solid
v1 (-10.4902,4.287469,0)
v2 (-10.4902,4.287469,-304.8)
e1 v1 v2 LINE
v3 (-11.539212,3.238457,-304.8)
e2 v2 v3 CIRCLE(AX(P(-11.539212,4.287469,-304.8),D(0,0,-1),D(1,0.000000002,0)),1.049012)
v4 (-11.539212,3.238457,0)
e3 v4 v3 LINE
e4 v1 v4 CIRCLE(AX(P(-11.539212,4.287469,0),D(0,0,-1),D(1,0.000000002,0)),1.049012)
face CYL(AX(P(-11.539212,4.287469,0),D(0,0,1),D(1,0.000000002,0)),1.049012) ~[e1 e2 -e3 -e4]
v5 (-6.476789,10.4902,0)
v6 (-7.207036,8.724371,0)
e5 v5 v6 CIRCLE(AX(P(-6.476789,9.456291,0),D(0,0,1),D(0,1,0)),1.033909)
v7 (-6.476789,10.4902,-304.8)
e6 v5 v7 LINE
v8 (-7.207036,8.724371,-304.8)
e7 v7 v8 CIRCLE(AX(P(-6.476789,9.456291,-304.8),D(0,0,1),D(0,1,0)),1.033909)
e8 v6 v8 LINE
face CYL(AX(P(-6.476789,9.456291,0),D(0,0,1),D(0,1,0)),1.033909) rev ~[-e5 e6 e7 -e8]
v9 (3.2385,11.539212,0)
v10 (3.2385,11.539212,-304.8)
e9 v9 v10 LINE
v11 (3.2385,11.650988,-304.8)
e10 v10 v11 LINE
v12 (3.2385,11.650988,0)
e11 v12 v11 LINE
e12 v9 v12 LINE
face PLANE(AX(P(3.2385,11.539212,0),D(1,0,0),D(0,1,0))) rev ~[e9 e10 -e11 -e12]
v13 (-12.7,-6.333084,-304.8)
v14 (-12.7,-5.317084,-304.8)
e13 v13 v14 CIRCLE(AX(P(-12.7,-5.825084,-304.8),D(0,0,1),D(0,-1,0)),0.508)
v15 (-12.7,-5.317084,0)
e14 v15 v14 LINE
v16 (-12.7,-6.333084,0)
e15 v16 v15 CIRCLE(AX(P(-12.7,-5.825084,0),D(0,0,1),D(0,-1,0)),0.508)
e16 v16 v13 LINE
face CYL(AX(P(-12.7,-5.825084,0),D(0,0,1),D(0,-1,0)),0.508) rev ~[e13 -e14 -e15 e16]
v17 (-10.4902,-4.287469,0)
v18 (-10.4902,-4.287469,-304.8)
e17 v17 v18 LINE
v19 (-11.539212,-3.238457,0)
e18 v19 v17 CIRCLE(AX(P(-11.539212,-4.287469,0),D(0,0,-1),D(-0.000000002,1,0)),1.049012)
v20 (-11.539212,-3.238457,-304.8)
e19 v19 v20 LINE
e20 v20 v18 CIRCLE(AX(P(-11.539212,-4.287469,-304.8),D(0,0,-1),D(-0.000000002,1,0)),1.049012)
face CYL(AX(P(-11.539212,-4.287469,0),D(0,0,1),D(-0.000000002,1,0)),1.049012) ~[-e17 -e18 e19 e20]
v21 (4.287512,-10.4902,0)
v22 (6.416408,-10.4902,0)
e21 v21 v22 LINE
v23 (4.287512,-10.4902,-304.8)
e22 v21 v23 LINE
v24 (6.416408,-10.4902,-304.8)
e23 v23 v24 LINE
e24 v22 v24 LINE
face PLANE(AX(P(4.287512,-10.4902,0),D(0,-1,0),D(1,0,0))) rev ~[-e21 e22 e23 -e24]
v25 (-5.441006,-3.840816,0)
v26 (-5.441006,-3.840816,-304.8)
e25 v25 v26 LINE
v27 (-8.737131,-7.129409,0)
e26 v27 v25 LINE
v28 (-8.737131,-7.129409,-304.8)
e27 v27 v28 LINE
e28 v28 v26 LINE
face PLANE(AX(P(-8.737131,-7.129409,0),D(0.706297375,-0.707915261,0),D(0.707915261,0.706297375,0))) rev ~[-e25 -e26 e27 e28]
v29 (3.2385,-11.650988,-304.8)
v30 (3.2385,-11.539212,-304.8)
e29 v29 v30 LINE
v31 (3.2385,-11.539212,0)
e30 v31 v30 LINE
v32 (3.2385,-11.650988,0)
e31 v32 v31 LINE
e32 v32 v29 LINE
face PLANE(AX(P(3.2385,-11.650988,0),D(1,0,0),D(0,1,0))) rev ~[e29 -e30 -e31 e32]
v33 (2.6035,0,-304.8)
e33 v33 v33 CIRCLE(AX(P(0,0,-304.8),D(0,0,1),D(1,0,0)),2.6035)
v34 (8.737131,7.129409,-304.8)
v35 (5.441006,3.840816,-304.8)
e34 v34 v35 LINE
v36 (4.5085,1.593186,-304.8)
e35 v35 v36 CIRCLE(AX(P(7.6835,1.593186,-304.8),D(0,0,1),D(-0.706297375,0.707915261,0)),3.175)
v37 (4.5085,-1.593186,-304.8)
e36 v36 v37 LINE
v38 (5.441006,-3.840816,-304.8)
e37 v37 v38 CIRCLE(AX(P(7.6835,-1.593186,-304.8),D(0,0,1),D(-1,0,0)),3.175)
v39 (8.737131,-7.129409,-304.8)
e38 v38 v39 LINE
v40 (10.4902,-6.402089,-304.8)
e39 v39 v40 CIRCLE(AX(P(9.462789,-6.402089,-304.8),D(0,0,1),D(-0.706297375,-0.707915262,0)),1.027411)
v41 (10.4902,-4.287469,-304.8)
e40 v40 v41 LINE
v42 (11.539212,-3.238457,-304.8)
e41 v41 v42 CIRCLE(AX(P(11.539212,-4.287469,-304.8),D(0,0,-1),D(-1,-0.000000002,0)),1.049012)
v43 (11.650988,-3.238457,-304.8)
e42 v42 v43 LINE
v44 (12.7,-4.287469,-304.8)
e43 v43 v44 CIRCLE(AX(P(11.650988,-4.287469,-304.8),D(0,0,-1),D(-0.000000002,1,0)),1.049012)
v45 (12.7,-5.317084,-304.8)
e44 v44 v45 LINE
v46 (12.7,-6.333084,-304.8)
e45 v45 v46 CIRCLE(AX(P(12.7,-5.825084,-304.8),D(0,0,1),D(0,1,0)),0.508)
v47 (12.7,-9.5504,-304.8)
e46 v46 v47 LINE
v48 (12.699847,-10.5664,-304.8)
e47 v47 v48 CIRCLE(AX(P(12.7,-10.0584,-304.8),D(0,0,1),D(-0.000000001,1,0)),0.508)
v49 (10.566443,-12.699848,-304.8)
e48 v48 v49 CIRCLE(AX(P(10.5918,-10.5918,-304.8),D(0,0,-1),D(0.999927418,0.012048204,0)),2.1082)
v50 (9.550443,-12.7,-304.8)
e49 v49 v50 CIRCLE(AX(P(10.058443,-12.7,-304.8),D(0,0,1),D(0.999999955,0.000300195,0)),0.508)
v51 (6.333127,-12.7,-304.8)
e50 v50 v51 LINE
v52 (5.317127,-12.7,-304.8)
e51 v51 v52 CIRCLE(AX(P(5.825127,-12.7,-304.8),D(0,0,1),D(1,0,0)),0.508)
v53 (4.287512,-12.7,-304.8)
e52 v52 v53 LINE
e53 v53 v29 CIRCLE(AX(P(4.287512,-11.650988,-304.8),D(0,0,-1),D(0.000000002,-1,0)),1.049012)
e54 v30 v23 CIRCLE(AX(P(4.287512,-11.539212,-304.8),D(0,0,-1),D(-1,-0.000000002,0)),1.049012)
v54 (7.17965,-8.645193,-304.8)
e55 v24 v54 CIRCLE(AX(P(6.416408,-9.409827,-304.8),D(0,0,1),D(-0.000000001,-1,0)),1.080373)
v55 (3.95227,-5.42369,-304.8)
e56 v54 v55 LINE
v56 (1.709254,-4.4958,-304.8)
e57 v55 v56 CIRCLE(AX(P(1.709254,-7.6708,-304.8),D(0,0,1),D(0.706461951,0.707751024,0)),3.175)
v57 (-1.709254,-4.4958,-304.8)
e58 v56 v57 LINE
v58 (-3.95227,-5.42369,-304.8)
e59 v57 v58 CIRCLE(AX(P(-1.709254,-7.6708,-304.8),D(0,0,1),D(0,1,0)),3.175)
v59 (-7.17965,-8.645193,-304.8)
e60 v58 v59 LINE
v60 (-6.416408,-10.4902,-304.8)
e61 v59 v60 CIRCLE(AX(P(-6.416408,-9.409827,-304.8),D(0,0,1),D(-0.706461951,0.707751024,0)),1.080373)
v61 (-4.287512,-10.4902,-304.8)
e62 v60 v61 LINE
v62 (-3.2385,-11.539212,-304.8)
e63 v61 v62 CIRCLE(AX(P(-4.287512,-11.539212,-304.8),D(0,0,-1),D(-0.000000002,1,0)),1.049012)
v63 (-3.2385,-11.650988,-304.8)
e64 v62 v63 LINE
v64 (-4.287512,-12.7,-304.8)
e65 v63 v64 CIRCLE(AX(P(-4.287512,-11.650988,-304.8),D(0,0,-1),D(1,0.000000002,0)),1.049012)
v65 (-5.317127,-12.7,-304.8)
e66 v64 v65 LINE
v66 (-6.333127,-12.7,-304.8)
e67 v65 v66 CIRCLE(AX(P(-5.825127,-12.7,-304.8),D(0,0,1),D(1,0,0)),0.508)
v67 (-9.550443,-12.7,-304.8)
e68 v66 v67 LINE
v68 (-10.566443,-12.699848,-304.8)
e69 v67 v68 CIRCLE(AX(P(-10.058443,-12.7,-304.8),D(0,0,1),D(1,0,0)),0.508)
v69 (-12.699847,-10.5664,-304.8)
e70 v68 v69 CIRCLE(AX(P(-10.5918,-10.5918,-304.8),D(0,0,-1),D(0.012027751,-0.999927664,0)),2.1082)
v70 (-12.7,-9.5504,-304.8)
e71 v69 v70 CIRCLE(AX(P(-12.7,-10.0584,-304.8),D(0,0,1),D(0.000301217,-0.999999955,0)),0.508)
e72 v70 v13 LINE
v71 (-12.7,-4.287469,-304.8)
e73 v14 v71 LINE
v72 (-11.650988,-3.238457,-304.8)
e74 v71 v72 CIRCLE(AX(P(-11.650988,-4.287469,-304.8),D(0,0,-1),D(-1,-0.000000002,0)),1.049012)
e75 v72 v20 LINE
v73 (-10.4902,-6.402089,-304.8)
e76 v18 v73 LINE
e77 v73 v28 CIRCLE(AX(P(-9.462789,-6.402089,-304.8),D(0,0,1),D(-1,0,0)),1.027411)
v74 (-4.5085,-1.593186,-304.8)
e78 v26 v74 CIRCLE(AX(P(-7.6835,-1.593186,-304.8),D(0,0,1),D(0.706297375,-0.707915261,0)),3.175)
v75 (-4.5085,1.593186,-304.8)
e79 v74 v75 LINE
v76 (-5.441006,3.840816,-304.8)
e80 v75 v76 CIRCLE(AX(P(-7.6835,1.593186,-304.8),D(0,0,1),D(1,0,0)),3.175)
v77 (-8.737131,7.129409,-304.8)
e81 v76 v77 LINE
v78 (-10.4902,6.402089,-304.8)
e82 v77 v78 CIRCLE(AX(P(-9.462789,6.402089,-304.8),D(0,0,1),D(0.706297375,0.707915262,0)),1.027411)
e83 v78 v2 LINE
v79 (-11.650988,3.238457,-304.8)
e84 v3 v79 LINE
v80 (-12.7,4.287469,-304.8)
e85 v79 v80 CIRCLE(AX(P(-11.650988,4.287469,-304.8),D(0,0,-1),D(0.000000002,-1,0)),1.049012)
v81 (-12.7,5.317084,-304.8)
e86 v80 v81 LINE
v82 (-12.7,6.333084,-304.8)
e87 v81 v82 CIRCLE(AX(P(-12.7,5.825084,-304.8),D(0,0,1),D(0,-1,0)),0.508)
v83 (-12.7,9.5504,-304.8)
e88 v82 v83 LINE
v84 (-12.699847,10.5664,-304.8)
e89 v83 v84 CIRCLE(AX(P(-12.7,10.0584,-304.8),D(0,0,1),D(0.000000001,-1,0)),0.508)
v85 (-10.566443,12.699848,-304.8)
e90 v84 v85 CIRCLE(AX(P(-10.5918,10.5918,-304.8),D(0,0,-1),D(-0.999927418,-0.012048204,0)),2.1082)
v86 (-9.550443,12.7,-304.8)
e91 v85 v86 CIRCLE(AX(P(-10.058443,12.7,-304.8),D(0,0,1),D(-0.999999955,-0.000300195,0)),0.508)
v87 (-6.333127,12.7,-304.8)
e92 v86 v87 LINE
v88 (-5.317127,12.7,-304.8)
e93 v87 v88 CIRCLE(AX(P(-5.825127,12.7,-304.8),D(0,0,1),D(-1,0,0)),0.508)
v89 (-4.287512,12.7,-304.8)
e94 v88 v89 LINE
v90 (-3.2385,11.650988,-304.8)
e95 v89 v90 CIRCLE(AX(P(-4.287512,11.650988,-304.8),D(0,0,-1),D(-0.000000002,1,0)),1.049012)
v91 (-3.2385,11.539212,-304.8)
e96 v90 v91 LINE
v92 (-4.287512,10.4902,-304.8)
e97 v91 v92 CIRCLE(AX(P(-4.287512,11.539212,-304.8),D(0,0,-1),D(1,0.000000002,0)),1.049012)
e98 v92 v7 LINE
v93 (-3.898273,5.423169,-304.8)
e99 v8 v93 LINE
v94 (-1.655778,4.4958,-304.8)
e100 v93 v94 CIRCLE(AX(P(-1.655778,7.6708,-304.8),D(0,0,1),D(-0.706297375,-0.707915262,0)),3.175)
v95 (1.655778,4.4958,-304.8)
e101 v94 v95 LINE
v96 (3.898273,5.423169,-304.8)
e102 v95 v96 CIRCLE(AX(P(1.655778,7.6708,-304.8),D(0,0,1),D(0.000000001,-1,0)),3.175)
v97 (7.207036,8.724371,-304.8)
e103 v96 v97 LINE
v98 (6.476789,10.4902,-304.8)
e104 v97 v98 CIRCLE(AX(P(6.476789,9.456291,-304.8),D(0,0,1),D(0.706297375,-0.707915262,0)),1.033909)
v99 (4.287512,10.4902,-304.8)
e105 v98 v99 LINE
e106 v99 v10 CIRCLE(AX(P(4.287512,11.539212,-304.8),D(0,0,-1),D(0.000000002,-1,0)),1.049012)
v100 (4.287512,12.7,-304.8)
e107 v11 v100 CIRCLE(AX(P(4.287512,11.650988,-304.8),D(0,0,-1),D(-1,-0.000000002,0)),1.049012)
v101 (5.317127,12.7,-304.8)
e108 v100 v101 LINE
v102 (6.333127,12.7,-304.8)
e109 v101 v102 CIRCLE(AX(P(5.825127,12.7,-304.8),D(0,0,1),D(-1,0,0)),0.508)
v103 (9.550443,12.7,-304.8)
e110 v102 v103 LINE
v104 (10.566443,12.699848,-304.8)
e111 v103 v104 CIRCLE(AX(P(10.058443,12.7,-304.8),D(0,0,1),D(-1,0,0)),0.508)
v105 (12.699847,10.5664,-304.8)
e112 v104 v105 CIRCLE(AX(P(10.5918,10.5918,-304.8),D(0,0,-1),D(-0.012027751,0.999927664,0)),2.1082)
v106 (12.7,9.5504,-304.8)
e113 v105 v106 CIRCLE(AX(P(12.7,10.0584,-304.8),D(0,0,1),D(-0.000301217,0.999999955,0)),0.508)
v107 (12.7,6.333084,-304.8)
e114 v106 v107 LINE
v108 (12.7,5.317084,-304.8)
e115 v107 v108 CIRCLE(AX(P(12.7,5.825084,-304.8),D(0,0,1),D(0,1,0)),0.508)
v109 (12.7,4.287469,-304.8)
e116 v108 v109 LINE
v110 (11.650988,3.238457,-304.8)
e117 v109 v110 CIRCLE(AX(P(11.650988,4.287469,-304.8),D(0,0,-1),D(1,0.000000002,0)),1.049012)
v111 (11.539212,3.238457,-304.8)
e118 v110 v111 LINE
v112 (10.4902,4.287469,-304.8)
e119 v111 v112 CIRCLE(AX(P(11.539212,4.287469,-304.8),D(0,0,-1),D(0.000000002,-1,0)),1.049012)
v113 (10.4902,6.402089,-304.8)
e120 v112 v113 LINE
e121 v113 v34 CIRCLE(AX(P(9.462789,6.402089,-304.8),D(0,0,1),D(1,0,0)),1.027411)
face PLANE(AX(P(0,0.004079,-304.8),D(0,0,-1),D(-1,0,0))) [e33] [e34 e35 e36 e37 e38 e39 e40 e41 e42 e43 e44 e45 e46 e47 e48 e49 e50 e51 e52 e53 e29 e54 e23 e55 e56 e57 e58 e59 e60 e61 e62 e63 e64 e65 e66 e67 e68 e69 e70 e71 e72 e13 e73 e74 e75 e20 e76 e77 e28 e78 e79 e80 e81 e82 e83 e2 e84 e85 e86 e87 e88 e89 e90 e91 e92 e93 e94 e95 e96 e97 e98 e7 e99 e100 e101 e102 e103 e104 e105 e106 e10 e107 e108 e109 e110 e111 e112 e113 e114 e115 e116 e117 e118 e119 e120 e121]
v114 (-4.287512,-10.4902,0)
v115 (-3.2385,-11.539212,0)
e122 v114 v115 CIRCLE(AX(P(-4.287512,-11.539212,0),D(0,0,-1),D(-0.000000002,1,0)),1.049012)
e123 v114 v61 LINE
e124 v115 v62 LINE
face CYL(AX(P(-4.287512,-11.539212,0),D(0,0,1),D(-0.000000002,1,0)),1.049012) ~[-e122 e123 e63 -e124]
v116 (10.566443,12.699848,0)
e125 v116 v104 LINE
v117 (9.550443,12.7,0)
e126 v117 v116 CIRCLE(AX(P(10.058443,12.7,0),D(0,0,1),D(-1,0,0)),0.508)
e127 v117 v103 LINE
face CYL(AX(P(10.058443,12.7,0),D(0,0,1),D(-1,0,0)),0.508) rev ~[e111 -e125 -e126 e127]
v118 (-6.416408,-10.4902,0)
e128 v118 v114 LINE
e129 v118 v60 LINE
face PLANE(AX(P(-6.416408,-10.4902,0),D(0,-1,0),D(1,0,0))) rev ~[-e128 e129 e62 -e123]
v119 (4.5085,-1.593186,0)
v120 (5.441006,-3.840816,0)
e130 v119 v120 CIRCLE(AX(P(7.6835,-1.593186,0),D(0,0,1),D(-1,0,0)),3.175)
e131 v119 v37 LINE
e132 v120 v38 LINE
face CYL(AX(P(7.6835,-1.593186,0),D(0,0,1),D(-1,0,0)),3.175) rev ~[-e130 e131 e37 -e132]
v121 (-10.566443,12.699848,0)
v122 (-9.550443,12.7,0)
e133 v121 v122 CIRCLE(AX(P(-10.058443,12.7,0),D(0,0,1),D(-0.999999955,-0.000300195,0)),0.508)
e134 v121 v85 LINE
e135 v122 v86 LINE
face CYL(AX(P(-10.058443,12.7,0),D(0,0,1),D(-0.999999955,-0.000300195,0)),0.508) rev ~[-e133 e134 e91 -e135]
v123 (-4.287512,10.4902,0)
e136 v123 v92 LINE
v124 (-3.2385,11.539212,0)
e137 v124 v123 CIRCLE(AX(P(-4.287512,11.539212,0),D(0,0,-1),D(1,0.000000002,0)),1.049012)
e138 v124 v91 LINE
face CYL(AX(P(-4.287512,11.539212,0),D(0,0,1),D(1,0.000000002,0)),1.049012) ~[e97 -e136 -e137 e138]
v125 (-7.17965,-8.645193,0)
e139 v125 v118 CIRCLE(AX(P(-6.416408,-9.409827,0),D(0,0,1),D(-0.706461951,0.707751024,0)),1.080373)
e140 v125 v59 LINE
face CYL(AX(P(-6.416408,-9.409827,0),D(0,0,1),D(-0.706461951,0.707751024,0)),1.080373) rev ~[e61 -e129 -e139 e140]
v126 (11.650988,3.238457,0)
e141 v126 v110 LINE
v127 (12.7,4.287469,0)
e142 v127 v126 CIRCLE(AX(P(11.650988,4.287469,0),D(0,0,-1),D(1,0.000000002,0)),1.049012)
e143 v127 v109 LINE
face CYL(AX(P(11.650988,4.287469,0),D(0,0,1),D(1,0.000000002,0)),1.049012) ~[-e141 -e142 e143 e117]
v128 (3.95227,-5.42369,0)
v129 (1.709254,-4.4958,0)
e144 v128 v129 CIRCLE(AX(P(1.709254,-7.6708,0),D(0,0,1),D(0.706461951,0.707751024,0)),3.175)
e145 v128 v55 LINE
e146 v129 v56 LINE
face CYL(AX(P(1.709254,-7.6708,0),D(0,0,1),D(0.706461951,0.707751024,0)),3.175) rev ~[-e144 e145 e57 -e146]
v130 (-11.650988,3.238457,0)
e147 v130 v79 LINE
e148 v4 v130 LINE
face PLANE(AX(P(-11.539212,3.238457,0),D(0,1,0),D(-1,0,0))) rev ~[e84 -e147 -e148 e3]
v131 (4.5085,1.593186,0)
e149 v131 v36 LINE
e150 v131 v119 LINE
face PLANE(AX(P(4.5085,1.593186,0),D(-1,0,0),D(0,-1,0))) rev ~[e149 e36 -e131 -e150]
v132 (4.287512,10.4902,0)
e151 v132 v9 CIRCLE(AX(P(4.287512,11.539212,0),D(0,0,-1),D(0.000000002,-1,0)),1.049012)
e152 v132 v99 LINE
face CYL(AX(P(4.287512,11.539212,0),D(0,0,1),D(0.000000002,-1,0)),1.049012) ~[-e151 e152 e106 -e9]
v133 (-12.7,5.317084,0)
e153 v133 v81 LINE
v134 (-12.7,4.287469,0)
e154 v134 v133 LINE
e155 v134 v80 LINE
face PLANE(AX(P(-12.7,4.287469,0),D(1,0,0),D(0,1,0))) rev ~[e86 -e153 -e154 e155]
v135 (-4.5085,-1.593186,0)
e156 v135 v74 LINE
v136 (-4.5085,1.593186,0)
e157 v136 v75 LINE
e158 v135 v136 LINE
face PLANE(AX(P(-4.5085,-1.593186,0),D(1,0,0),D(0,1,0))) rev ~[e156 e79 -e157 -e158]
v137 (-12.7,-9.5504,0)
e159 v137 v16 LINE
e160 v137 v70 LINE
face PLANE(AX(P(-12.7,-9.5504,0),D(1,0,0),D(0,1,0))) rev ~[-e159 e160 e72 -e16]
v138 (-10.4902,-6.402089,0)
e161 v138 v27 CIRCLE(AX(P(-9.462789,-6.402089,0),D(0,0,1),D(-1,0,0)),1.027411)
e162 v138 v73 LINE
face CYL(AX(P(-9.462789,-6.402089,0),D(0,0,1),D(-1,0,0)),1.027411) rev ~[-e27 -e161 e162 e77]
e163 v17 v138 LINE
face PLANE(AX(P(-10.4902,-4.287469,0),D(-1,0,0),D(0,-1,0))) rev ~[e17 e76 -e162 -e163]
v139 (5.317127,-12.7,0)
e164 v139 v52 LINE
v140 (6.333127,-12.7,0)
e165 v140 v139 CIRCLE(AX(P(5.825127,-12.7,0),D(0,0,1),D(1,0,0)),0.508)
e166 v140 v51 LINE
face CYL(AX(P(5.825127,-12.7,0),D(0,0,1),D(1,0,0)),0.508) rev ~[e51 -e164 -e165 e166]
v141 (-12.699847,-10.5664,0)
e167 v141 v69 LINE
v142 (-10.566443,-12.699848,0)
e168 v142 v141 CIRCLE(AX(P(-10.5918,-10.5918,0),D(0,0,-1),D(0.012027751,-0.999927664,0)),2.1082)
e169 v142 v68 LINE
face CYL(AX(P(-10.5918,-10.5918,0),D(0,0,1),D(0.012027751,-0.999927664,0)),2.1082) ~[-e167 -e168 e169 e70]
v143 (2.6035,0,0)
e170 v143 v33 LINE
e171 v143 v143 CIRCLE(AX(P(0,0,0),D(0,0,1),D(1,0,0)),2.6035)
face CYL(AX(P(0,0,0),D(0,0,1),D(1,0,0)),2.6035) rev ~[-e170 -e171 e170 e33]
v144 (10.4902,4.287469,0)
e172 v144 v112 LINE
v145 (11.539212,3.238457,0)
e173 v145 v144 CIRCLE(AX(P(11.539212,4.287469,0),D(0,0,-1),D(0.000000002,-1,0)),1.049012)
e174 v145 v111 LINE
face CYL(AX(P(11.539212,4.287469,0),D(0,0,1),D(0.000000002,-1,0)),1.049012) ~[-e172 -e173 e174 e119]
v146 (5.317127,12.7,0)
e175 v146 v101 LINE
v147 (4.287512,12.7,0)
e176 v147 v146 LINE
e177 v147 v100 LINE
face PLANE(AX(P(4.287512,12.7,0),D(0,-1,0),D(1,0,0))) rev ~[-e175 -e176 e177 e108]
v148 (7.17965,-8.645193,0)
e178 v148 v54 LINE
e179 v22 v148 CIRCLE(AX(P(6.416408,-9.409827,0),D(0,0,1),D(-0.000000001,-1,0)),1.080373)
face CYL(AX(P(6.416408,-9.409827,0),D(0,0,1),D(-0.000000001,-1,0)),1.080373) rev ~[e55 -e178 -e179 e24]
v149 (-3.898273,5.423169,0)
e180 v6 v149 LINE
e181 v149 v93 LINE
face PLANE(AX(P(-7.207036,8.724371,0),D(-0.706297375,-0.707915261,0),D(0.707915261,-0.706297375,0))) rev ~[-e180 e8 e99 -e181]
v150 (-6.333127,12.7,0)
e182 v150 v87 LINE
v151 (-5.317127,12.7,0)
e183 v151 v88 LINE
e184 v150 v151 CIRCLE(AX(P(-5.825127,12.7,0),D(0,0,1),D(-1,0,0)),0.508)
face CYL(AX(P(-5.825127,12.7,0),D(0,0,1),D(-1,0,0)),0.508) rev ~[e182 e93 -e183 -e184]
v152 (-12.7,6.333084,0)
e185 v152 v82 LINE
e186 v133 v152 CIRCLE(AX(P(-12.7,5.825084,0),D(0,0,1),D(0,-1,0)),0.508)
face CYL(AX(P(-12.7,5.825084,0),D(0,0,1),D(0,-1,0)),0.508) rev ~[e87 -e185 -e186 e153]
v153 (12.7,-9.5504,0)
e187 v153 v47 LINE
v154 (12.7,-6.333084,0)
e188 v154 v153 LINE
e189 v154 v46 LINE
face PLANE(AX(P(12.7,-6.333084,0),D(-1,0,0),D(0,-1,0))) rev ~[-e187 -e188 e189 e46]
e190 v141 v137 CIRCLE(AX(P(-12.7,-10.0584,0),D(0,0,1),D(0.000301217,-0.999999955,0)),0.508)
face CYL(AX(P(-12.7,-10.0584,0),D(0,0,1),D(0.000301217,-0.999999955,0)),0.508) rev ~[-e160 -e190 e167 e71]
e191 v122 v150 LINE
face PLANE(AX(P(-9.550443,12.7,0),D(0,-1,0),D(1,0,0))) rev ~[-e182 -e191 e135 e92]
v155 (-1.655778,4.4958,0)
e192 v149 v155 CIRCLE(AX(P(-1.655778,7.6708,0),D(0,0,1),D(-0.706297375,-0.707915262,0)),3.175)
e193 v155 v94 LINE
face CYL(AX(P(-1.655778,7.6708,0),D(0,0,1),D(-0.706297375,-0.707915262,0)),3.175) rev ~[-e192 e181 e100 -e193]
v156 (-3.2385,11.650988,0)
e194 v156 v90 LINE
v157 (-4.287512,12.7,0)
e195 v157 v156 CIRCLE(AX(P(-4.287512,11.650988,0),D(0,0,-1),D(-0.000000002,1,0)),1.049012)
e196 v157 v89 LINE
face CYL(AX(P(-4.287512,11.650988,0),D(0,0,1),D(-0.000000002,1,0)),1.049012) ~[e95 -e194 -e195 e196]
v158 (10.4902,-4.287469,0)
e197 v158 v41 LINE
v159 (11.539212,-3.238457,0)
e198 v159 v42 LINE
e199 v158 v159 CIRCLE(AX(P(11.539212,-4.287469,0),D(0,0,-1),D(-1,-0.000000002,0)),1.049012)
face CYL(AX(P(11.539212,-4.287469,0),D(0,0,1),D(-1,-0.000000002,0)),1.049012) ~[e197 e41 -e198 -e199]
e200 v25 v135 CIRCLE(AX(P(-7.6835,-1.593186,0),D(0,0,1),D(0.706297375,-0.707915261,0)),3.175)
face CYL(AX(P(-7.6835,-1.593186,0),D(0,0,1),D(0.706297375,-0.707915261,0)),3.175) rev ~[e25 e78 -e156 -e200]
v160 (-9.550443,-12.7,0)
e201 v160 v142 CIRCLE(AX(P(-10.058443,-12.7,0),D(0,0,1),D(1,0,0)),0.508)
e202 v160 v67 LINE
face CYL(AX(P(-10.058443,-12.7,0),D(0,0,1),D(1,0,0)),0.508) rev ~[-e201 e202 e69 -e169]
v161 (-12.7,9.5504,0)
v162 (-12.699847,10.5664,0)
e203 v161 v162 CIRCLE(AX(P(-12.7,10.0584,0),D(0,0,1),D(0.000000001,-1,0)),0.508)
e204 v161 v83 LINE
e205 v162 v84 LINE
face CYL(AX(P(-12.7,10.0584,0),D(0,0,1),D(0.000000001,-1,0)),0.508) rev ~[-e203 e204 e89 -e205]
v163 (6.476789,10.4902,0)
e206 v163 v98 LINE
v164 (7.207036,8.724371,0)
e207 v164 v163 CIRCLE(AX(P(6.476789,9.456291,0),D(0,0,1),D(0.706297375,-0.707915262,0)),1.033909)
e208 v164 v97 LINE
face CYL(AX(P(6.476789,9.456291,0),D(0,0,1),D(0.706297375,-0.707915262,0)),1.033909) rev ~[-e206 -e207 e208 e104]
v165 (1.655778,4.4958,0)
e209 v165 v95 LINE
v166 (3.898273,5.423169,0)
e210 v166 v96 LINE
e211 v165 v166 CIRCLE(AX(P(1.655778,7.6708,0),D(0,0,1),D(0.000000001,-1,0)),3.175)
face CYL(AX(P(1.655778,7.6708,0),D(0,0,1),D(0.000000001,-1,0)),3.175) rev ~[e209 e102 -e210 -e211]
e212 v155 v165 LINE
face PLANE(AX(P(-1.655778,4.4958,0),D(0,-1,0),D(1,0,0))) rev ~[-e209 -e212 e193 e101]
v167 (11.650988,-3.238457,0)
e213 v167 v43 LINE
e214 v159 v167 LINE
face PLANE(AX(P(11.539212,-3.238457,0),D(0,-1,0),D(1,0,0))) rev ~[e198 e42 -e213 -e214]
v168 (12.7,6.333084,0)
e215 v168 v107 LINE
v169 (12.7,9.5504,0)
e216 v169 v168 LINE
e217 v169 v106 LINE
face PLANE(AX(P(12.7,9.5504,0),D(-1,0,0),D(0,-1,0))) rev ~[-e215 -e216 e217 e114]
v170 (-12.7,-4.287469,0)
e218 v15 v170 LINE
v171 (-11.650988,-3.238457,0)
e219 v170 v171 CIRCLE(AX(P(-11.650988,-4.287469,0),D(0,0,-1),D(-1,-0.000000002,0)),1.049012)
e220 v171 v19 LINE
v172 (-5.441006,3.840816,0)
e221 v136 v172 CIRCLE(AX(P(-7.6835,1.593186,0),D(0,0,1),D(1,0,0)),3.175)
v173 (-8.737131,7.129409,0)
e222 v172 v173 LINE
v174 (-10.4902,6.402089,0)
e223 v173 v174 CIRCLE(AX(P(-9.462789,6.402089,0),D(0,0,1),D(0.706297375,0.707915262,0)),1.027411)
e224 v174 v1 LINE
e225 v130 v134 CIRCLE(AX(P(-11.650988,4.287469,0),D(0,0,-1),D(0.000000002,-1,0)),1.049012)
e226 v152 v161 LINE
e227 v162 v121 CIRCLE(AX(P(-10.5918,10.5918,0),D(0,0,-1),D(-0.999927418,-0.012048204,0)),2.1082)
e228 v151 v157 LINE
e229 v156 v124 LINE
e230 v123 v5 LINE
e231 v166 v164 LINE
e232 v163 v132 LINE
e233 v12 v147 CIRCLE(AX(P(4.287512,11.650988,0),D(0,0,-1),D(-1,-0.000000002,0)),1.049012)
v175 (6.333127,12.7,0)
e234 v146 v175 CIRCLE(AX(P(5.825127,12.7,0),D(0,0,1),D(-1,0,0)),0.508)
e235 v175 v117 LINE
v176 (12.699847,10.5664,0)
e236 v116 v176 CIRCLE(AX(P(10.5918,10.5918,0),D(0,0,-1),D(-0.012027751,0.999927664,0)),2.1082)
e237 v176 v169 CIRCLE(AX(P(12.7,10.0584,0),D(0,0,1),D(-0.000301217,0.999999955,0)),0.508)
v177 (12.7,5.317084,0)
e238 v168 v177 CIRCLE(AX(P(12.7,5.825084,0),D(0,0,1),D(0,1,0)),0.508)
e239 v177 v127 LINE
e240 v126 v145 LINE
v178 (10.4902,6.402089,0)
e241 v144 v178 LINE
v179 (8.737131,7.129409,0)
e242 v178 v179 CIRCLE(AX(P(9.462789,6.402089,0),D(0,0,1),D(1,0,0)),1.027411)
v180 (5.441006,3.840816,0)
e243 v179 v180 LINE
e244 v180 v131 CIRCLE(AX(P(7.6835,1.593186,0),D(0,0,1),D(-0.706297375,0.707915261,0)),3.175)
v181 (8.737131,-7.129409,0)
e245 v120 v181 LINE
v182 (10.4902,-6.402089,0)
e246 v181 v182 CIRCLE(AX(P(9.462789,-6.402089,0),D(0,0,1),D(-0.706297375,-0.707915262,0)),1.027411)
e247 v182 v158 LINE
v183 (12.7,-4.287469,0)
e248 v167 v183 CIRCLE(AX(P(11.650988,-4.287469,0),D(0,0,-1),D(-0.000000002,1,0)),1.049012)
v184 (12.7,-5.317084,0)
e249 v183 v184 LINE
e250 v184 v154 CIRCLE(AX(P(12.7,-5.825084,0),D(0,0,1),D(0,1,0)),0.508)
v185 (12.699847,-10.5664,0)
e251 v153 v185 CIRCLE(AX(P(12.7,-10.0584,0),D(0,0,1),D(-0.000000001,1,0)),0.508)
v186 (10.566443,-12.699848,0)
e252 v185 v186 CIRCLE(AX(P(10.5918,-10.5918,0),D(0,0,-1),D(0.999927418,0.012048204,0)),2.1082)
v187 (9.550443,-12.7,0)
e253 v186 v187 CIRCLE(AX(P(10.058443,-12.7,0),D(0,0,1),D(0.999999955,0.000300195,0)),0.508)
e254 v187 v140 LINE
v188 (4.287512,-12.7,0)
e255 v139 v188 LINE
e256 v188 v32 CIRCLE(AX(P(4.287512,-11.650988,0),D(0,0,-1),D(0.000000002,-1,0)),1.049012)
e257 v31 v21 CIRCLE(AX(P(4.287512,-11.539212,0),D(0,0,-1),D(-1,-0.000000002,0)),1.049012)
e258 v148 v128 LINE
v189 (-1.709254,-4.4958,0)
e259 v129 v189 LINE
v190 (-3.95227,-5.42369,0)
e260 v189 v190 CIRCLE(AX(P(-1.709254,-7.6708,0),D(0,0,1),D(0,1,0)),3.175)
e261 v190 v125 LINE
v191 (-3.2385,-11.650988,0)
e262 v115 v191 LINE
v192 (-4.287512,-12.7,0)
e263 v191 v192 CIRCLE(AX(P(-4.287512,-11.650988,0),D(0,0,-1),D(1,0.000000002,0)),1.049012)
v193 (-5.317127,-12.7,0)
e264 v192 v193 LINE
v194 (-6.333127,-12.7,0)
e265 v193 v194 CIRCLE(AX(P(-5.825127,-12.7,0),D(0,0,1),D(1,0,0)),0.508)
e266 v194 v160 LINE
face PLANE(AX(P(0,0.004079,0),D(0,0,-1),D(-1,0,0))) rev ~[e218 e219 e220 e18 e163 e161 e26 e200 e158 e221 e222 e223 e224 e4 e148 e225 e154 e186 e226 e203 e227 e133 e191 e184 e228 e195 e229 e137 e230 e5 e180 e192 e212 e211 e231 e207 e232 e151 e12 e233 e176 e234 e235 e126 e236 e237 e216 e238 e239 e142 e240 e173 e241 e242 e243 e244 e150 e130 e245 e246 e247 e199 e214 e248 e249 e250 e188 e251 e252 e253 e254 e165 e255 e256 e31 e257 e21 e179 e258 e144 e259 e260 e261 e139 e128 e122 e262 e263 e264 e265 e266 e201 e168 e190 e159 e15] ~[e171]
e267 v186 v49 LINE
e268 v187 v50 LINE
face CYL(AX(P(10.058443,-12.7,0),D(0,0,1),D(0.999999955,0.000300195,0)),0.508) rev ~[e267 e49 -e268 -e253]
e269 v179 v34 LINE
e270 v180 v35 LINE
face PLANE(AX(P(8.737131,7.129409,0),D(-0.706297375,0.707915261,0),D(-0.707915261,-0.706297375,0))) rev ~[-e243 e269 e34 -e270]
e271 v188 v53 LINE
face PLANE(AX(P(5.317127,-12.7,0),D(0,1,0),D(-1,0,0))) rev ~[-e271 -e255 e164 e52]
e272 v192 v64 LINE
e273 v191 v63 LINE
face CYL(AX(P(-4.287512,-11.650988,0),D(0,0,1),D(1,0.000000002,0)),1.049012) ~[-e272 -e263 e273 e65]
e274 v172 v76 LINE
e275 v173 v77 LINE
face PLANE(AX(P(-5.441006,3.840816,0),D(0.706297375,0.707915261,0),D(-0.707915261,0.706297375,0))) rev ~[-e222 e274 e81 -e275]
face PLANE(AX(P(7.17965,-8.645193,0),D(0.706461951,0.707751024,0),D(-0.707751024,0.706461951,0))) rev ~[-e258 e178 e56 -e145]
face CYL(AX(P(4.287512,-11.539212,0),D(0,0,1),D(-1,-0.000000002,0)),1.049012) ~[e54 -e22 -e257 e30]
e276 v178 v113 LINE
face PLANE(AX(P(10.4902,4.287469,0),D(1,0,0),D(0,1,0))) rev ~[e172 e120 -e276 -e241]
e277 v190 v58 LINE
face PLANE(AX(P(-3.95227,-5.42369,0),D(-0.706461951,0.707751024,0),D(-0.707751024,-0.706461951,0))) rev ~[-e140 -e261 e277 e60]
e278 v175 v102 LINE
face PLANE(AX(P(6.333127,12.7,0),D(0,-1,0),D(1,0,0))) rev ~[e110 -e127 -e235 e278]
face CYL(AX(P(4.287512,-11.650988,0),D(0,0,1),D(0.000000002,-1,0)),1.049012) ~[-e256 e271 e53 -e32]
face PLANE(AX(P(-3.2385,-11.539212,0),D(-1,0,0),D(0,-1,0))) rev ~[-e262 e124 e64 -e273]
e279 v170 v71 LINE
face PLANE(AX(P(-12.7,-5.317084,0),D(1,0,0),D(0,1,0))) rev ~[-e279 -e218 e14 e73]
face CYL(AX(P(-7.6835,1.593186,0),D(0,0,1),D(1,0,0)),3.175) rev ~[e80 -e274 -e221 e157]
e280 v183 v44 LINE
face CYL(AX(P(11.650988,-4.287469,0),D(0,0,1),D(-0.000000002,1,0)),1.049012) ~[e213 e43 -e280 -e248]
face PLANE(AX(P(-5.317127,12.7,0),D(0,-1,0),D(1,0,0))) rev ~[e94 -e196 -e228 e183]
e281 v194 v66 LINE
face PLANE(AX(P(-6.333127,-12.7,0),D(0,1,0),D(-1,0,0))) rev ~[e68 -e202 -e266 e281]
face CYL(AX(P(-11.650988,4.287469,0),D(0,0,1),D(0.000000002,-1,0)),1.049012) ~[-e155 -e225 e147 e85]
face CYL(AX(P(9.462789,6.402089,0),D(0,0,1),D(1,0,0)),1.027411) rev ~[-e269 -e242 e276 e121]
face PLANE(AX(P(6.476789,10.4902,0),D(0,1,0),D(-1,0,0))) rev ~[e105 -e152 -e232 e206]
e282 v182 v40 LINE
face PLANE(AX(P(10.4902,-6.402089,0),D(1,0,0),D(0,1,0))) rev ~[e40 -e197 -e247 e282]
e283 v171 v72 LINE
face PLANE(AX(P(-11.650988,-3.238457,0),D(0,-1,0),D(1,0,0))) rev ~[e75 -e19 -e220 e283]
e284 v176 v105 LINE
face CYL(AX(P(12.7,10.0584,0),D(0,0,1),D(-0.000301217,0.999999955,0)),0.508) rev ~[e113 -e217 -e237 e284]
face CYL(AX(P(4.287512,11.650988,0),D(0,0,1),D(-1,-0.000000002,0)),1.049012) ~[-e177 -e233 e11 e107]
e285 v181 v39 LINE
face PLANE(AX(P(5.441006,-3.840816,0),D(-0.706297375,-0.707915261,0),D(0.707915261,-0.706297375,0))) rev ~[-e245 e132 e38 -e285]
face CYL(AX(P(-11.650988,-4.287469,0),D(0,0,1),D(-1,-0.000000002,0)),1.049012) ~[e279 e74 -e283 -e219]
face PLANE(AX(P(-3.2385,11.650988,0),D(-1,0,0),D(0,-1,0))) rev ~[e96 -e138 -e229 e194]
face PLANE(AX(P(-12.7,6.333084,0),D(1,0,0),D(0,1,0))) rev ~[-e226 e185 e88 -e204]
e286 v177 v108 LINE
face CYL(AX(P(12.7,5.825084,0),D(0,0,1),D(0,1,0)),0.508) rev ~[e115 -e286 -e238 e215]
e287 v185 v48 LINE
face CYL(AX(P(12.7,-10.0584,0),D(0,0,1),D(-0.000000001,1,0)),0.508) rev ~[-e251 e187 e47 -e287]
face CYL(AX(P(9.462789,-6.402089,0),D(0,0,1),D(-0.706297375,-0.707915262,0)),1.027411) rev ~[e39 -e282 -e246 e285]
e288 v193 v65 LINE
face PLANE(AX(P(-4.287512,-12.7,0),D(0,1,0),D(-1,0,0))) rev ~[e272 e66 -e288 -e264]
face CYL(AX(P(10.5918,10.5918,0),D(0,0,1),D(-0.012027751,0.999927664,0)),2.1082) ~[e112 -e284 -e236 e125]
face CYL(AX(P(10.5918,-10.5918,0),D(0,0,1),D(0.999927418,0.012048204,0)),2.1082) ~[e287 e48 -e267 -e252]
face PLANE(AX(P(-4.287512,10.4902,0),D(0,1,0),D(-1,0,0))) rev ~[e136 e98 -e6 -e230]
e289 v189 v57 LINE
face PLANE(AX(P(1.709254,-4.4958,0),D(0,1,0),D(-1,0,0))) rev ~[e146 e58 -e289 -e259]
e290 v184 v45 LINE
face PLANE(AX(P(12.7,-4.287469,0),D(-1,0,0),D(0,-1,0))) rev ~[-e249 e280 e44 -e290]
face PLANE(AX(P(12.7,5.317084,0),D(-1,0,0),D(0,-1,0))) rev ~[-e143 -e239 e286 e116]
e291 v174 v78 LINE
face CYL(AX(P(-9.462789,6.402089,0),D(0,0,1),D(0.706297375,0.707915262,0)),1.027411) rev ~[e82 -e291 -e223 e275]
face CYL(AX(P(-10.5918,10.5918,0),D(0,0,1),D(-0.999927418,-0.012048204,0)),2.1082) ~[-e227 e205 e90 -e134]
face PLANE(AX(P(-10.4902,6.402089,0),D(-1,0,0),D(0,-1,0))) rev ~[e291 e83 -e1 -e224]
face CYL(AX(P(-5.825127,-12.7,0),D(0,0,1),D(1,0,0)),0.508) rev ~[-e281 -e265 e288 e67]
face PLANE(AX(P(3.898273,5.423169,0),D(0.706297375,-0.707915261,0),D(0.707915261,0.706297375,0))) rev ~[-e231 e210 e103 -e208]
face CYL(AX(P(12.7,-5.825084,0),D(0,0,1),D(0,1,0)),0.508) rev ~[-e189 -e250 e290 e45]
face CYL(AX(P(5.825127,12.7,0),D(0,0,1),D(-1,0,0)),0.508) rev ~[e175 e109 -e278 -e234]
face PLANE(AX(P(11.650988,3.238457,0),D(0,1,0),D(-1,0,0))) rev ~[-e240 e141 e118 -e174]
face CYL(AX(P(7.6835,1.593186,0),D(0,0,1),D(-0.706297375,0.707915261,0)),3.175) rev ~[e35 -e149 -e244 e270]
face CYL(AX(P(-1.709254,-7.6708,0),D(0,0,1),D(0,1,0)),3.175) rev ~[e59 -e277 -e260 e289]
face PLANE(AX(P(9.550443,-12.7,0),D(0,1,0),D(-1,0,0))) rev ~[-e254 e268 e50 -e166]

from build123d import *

# Parameters (mm, degrees)
SKETCH1_R      = 2.6035
EXTRUDE1_DEPTH = 304.8


with BuildPart() as part:
    # Sketch1 → Extrude1 (new body)
    with BuildSketch(Plane.XY):
        with BuildLine():
            Line((-7.207036008, 8.724370562), (-3.898272566, 5.423169045))
            ThreePointArc((-3.898272566, 5.423169045), (-2.869120213, 4.736787962), (-1.655778399, 4.4958))
            Line((-1.655778399, 4.4958), (1.655778399, 4.4958))
            ThreePointArc((1.655778399, 4.4958), (2.869120213, 4.736787962), (3.898272566, 5.423169045))
            Line((3.898272566, 5.423169045), (7.207036008, 8.724370562))
            ThreePointArc((7.207036008, 8.724370562), (7.432222385, 9.85140422), (6.476788598, 10.4902))
            Line((6.476788598, 10.4902), (4.287512407, 10.4902))
            ThreePointArc((4.287512407, 10.4902), (3.54574862, 10.79744862), (3.2385, 11.539212407))
            Line((3.2385, 11.539212407), (3.2385, 11.650987593))
            ThreePointArc((3.2385, 11.650987593), (3.54574862, 12.39275138), (4.287512407, 12.7))
            Line((4.287512407, 12.7), (5.317126718, 12.7))
            ThreePointArc((5.317126718, 12.7), (5.825126718, 12.192), (6.333126718, 12.7))
            Line((6.333126718, 12.7), (9.550443118, 12.7))
            ThreePointArc((9.550443118, 12.7), (10.058366869, 12.192000006), (10.566443095, 12.699847501))
            ThreePointArc((10.566443095, 12.699847501), (12.082537762, 12.08250727), (12.699846982, 10.566399977))
            ThreePointArc((12.699846982, 10.566399977), (12.192000006, 10.058323491), (12.7, 9.5504))
            Line((12.7, 9.5504), (12.7, 6.3330836))
            ThreePointArc((12.7, 6.3330836), (12.192, 5.8250836), (12.7, 5.3170836))
            Line((12.7, 5.3170836), (12.7, 4.287469289))
            ThreePointArc((12.7, 4.287469289), (12.39275138, 3.545705502), (11.650987593, 3.238456882))
            Line((11.650987593, 3.238456882), (11.539212407, 3.238456882))
            ThreePointArc((11.539212407, 3.238456882), (10.79744862, 3.545705502), (10.4902, 4.287469289))
            Line((10.4902, 4.287469289), (10.4902, 6.402089023))
            ThreePointArc((10.4902, 6.402089023), (9.856505071, 7.351067942), (8.737131347, 7.129408934))
            Line((8.737131347, 7.129408934), (5.441005833, 3.840816462))
            ThreePointArc((5.441005833, 3.840816462), (4.750877967, 2.809883091), (4.5085, 1.593185507))
            Line((4.5085, 1.593185507), (4.5085, -1.593185507))
            ThreePointArc((4.5085, -1.593185507), (4.750877967, -2.809883091), (5.441005833, -3.840816462))
            Line((5.441005833, -3.840816462), (8.737131347, -7.129408934))
            ThreePointArc((8.737131347, -7.129408934), (9.856505071, -7.351067942), (10.4902, -6.402089023))
            Line((10.4902, -6.402089023), (10.4902, -4.287469289))
            ThreePointArc((10.4902, -4.287469289), (10.79744862, -3.545705502), (11.539212407, -3.238456882))
            Line((11.539212407, -3.238456882), (11.650987593, -3.238456882))
            ThreePointArc((11.650987593, -3.238456882), (12.39275138, -3.545705502), (12.7, -4.287469289))
            Line((12.7, -4.287469289), (12.7, -5.3170836))
            ThreePointArc((12.7, -5.3170836), (12.192, -5.8250836), (12.7, -6.3330836))
            Line((12.7, -6.3330836), (12.7, -9.5504))
            ThreePointArc((12.7, -9.5504), (12.192000006, -10.058323491), (12.699846982, -10.566399977))
            ThreePointArc((12.699846982, -10.566399977), (12.082537762, -12.08250727), (10.566443095, -12.699847501))
            ThreePointArc((10.566443095, -12.699847501), (10.058366869, -12.192000006), (9.550443118, -12.7))
            Line((9.550443118, -12.7), (6.333126718, -12.7))
            ThreePointArc((6.333126718, -12.7), (5.825126718, -12.192), (5.317126718, -12.7))
            Line((5.317126718, -12.7), (4.287512407, -12.7))
            ThreePointArc((4.287512407, -12.7), (3.54574862, -12.39275138), (3.2385, -11.650987593))
            Line((3.2385, -11.650987593), (3.2385, -11.539212407))
            ThreePointArc((3.2385, -11.539212407), (3.54574862, -10.79744862), (4.287512407, -10.4902))
            Line((4.287512407, -10.4902), (6.416408329, -10.4902))
            ThreePointArc((6.416408329, -10.4902), (7.41473083, -9.822813117), (7.179650497, -8.645192506))
            Line((7.179650497, -8.645192506), (3.952270251, -5.423690499))
            ThreePointArc((3.952270251, -5.423690499), (2.922936451, -4.736929036), (1.709253557, -4.4958))
            Line((1.709253557, -4.4958), (-1.709253557, -4.4958))
            ThreePointArc((-1.709253557, -4.4958), (-2.922936451, -4.736929036), (-3.952270251, -5.423690499))
            Line((-3.952270251, -5.423690499), (-7.179650497, -8.645192506))
            ThreePointArc((-7.179650497, -8.645192506), (-7.41473083, -9.822813117), (-6.416408329, -10.4902))
            Line((-6.416408329, -10.4902), (-4.287512407, -10.4902))
            ThreePointArc((-4.287512407, -10.4902), (-3.54574862, -10.79744862), (-3.2385, -11.539212407))
            Line((-3.2385, -11.539212407), (-3.2385, -11.650987593))
            ThreePointArc((-3.2385, -11.650987593), (-3.54574862, -12.39275138), (-4.287512407, -12.7))
            Line((-4.287512407, -12.7), (-5.317126718, -12.7))
            ThreePointArc((-5.317126718, -12.7), (-5.825126718, -12.192), (-6.333126718, -12.7))
            Line((-6.333126718, -12.7), (-9.550443118, -12.7))
            ThreePointArc((-9.550443118, -12.7), (-10.058366869, -12.192000006), (-10.566443095, -12.699847501))
            ThreePointArc((-10.566443095, -12.699847501), (-12.082537762, -12.08250727), (-12.699846982, -10.566399977))
            ThreePointArc((-12.699846982, -10.566399977), (-12.192000006, -10.058323491), (-12.7, -9.5504))
            Line((-12.7, -9.5504), (-12.7, -6.3330836))
            ThreePointArc((-12.7, -6.3330836), (-12.192, -5.8250836), (-12.7, -5.3170836))
            Line((-12.7, -5.3170836), (-12.7, -4.287469289))
            ThreePointArc((-12.7, -4.287469289), (-12.39275138, -3.545705502), (-11.650987593, -3.238456882))
            Line((-11.650987593, -3.238456882), (-11.539212407, -3.238456882))
            ThreePointArc((-11.539212407, -3.238456882), (-10.79744862, -3.545705502), (-10.4902, -4.287469289))
            Line((-10.4902, -4.287469289), (-10.4902, -6.402089023))
            ThreePointArc((-10.4902, -6.402089023), (-9.856505071, -7.351067942), (-8.737131347, -7.129408934))
            Line((-8.737131347, -7.129408934), (-5.441005833, -3.840816462))
            ThreePointArc((-5.441005833, -3.840816462), (-4.750877967, -2.809883091), (-4.5085, -1.593185507))
            Line((-4.5085, -1.593185507), (-4.5085, 1.593185507))
            ThreePointArc((-4.5085, 1.593185507), (-4.750877967, 2.809883091), (-5.441005833, 3.840816462))
            Line((-5.441005833, 3.840816462), (-8.737131347, 7.129408934))
            ThreePointArc((-8.737131347, 7.129408934), (-9.856505071, 7.351067942), (-10.4902, 6.402089023))
            Line((-10.4902, 6.402089023), (-10.4902, 4.287469289))
            ThreePointArc((-10.4902, 4.287469289), (-10.79744862, 3.545705502), (-11.539212407, 3.238456882))
            Line((-11.539212407, 3.238456882), (-11.650987593, 3.238456882))
            ThreePointArc((-11.650987593, 3.238456882), (-12.39275138, 3.545705502), (-12.7, 4.287469289))
            Line((-12.7, 4.287469289), (-12.7, 5.3170836))
            ThreePointArc((-12.7, 5.3170836), (-12.192, 5.8250836), (-12.7, 6.3330836))
            Line((-12.7, 6.3330836), (-12.7, 9.5504))
            ThreePointArc((-12.7, 9.5504), (-12.192000006, 10.058323491), (-12.699846982, 10.566399977))
            ThreePointArc((-12.699846982, 10.566399977), (-12.082537762, 12.08250727), (-10.566443095, 12.699847501))
            ThreePointArc((-10.566443095, 12.699847501), (-10.058366869, 12.192000006), (-9.550443118, 12.7))
            Line((-9.550443118, 12.7), (-6.333126718, 12.7))
            ThreePointArc((-6.333126718, 12.7), (-5.825126718, 12.192), (-5.317126718, 12.7))
            Line((-5.317126718, 12.7), (-4.287512407, 12.7))
            ThreePointArc((-4.287512407, 12.7), (-3.54574862, 12.39275138), (-3.2385, 11.650987593))
            Line((-3.2385, 11.650987593), (-3.2385, 11.539212407))
            ThreePointArc((-3.2385, 11.539212407), (-3.54574862, 10.79744862), (-4.287512407, 10.4902))
            Line((-4.287512407, 10.4902), (-6.476788598, 10.4902))
            ThreePointArc((-6.476788598, 10.4902), (-7.432222385, 9.85140422), (-7.207036008, 8.724370562))
        make_face()
        Circle(SKETCH1_R, mode=Mode.SUBTRACT)
    extrude(amount=-EXTRUDE1_DEPTH)


solid = part.part
